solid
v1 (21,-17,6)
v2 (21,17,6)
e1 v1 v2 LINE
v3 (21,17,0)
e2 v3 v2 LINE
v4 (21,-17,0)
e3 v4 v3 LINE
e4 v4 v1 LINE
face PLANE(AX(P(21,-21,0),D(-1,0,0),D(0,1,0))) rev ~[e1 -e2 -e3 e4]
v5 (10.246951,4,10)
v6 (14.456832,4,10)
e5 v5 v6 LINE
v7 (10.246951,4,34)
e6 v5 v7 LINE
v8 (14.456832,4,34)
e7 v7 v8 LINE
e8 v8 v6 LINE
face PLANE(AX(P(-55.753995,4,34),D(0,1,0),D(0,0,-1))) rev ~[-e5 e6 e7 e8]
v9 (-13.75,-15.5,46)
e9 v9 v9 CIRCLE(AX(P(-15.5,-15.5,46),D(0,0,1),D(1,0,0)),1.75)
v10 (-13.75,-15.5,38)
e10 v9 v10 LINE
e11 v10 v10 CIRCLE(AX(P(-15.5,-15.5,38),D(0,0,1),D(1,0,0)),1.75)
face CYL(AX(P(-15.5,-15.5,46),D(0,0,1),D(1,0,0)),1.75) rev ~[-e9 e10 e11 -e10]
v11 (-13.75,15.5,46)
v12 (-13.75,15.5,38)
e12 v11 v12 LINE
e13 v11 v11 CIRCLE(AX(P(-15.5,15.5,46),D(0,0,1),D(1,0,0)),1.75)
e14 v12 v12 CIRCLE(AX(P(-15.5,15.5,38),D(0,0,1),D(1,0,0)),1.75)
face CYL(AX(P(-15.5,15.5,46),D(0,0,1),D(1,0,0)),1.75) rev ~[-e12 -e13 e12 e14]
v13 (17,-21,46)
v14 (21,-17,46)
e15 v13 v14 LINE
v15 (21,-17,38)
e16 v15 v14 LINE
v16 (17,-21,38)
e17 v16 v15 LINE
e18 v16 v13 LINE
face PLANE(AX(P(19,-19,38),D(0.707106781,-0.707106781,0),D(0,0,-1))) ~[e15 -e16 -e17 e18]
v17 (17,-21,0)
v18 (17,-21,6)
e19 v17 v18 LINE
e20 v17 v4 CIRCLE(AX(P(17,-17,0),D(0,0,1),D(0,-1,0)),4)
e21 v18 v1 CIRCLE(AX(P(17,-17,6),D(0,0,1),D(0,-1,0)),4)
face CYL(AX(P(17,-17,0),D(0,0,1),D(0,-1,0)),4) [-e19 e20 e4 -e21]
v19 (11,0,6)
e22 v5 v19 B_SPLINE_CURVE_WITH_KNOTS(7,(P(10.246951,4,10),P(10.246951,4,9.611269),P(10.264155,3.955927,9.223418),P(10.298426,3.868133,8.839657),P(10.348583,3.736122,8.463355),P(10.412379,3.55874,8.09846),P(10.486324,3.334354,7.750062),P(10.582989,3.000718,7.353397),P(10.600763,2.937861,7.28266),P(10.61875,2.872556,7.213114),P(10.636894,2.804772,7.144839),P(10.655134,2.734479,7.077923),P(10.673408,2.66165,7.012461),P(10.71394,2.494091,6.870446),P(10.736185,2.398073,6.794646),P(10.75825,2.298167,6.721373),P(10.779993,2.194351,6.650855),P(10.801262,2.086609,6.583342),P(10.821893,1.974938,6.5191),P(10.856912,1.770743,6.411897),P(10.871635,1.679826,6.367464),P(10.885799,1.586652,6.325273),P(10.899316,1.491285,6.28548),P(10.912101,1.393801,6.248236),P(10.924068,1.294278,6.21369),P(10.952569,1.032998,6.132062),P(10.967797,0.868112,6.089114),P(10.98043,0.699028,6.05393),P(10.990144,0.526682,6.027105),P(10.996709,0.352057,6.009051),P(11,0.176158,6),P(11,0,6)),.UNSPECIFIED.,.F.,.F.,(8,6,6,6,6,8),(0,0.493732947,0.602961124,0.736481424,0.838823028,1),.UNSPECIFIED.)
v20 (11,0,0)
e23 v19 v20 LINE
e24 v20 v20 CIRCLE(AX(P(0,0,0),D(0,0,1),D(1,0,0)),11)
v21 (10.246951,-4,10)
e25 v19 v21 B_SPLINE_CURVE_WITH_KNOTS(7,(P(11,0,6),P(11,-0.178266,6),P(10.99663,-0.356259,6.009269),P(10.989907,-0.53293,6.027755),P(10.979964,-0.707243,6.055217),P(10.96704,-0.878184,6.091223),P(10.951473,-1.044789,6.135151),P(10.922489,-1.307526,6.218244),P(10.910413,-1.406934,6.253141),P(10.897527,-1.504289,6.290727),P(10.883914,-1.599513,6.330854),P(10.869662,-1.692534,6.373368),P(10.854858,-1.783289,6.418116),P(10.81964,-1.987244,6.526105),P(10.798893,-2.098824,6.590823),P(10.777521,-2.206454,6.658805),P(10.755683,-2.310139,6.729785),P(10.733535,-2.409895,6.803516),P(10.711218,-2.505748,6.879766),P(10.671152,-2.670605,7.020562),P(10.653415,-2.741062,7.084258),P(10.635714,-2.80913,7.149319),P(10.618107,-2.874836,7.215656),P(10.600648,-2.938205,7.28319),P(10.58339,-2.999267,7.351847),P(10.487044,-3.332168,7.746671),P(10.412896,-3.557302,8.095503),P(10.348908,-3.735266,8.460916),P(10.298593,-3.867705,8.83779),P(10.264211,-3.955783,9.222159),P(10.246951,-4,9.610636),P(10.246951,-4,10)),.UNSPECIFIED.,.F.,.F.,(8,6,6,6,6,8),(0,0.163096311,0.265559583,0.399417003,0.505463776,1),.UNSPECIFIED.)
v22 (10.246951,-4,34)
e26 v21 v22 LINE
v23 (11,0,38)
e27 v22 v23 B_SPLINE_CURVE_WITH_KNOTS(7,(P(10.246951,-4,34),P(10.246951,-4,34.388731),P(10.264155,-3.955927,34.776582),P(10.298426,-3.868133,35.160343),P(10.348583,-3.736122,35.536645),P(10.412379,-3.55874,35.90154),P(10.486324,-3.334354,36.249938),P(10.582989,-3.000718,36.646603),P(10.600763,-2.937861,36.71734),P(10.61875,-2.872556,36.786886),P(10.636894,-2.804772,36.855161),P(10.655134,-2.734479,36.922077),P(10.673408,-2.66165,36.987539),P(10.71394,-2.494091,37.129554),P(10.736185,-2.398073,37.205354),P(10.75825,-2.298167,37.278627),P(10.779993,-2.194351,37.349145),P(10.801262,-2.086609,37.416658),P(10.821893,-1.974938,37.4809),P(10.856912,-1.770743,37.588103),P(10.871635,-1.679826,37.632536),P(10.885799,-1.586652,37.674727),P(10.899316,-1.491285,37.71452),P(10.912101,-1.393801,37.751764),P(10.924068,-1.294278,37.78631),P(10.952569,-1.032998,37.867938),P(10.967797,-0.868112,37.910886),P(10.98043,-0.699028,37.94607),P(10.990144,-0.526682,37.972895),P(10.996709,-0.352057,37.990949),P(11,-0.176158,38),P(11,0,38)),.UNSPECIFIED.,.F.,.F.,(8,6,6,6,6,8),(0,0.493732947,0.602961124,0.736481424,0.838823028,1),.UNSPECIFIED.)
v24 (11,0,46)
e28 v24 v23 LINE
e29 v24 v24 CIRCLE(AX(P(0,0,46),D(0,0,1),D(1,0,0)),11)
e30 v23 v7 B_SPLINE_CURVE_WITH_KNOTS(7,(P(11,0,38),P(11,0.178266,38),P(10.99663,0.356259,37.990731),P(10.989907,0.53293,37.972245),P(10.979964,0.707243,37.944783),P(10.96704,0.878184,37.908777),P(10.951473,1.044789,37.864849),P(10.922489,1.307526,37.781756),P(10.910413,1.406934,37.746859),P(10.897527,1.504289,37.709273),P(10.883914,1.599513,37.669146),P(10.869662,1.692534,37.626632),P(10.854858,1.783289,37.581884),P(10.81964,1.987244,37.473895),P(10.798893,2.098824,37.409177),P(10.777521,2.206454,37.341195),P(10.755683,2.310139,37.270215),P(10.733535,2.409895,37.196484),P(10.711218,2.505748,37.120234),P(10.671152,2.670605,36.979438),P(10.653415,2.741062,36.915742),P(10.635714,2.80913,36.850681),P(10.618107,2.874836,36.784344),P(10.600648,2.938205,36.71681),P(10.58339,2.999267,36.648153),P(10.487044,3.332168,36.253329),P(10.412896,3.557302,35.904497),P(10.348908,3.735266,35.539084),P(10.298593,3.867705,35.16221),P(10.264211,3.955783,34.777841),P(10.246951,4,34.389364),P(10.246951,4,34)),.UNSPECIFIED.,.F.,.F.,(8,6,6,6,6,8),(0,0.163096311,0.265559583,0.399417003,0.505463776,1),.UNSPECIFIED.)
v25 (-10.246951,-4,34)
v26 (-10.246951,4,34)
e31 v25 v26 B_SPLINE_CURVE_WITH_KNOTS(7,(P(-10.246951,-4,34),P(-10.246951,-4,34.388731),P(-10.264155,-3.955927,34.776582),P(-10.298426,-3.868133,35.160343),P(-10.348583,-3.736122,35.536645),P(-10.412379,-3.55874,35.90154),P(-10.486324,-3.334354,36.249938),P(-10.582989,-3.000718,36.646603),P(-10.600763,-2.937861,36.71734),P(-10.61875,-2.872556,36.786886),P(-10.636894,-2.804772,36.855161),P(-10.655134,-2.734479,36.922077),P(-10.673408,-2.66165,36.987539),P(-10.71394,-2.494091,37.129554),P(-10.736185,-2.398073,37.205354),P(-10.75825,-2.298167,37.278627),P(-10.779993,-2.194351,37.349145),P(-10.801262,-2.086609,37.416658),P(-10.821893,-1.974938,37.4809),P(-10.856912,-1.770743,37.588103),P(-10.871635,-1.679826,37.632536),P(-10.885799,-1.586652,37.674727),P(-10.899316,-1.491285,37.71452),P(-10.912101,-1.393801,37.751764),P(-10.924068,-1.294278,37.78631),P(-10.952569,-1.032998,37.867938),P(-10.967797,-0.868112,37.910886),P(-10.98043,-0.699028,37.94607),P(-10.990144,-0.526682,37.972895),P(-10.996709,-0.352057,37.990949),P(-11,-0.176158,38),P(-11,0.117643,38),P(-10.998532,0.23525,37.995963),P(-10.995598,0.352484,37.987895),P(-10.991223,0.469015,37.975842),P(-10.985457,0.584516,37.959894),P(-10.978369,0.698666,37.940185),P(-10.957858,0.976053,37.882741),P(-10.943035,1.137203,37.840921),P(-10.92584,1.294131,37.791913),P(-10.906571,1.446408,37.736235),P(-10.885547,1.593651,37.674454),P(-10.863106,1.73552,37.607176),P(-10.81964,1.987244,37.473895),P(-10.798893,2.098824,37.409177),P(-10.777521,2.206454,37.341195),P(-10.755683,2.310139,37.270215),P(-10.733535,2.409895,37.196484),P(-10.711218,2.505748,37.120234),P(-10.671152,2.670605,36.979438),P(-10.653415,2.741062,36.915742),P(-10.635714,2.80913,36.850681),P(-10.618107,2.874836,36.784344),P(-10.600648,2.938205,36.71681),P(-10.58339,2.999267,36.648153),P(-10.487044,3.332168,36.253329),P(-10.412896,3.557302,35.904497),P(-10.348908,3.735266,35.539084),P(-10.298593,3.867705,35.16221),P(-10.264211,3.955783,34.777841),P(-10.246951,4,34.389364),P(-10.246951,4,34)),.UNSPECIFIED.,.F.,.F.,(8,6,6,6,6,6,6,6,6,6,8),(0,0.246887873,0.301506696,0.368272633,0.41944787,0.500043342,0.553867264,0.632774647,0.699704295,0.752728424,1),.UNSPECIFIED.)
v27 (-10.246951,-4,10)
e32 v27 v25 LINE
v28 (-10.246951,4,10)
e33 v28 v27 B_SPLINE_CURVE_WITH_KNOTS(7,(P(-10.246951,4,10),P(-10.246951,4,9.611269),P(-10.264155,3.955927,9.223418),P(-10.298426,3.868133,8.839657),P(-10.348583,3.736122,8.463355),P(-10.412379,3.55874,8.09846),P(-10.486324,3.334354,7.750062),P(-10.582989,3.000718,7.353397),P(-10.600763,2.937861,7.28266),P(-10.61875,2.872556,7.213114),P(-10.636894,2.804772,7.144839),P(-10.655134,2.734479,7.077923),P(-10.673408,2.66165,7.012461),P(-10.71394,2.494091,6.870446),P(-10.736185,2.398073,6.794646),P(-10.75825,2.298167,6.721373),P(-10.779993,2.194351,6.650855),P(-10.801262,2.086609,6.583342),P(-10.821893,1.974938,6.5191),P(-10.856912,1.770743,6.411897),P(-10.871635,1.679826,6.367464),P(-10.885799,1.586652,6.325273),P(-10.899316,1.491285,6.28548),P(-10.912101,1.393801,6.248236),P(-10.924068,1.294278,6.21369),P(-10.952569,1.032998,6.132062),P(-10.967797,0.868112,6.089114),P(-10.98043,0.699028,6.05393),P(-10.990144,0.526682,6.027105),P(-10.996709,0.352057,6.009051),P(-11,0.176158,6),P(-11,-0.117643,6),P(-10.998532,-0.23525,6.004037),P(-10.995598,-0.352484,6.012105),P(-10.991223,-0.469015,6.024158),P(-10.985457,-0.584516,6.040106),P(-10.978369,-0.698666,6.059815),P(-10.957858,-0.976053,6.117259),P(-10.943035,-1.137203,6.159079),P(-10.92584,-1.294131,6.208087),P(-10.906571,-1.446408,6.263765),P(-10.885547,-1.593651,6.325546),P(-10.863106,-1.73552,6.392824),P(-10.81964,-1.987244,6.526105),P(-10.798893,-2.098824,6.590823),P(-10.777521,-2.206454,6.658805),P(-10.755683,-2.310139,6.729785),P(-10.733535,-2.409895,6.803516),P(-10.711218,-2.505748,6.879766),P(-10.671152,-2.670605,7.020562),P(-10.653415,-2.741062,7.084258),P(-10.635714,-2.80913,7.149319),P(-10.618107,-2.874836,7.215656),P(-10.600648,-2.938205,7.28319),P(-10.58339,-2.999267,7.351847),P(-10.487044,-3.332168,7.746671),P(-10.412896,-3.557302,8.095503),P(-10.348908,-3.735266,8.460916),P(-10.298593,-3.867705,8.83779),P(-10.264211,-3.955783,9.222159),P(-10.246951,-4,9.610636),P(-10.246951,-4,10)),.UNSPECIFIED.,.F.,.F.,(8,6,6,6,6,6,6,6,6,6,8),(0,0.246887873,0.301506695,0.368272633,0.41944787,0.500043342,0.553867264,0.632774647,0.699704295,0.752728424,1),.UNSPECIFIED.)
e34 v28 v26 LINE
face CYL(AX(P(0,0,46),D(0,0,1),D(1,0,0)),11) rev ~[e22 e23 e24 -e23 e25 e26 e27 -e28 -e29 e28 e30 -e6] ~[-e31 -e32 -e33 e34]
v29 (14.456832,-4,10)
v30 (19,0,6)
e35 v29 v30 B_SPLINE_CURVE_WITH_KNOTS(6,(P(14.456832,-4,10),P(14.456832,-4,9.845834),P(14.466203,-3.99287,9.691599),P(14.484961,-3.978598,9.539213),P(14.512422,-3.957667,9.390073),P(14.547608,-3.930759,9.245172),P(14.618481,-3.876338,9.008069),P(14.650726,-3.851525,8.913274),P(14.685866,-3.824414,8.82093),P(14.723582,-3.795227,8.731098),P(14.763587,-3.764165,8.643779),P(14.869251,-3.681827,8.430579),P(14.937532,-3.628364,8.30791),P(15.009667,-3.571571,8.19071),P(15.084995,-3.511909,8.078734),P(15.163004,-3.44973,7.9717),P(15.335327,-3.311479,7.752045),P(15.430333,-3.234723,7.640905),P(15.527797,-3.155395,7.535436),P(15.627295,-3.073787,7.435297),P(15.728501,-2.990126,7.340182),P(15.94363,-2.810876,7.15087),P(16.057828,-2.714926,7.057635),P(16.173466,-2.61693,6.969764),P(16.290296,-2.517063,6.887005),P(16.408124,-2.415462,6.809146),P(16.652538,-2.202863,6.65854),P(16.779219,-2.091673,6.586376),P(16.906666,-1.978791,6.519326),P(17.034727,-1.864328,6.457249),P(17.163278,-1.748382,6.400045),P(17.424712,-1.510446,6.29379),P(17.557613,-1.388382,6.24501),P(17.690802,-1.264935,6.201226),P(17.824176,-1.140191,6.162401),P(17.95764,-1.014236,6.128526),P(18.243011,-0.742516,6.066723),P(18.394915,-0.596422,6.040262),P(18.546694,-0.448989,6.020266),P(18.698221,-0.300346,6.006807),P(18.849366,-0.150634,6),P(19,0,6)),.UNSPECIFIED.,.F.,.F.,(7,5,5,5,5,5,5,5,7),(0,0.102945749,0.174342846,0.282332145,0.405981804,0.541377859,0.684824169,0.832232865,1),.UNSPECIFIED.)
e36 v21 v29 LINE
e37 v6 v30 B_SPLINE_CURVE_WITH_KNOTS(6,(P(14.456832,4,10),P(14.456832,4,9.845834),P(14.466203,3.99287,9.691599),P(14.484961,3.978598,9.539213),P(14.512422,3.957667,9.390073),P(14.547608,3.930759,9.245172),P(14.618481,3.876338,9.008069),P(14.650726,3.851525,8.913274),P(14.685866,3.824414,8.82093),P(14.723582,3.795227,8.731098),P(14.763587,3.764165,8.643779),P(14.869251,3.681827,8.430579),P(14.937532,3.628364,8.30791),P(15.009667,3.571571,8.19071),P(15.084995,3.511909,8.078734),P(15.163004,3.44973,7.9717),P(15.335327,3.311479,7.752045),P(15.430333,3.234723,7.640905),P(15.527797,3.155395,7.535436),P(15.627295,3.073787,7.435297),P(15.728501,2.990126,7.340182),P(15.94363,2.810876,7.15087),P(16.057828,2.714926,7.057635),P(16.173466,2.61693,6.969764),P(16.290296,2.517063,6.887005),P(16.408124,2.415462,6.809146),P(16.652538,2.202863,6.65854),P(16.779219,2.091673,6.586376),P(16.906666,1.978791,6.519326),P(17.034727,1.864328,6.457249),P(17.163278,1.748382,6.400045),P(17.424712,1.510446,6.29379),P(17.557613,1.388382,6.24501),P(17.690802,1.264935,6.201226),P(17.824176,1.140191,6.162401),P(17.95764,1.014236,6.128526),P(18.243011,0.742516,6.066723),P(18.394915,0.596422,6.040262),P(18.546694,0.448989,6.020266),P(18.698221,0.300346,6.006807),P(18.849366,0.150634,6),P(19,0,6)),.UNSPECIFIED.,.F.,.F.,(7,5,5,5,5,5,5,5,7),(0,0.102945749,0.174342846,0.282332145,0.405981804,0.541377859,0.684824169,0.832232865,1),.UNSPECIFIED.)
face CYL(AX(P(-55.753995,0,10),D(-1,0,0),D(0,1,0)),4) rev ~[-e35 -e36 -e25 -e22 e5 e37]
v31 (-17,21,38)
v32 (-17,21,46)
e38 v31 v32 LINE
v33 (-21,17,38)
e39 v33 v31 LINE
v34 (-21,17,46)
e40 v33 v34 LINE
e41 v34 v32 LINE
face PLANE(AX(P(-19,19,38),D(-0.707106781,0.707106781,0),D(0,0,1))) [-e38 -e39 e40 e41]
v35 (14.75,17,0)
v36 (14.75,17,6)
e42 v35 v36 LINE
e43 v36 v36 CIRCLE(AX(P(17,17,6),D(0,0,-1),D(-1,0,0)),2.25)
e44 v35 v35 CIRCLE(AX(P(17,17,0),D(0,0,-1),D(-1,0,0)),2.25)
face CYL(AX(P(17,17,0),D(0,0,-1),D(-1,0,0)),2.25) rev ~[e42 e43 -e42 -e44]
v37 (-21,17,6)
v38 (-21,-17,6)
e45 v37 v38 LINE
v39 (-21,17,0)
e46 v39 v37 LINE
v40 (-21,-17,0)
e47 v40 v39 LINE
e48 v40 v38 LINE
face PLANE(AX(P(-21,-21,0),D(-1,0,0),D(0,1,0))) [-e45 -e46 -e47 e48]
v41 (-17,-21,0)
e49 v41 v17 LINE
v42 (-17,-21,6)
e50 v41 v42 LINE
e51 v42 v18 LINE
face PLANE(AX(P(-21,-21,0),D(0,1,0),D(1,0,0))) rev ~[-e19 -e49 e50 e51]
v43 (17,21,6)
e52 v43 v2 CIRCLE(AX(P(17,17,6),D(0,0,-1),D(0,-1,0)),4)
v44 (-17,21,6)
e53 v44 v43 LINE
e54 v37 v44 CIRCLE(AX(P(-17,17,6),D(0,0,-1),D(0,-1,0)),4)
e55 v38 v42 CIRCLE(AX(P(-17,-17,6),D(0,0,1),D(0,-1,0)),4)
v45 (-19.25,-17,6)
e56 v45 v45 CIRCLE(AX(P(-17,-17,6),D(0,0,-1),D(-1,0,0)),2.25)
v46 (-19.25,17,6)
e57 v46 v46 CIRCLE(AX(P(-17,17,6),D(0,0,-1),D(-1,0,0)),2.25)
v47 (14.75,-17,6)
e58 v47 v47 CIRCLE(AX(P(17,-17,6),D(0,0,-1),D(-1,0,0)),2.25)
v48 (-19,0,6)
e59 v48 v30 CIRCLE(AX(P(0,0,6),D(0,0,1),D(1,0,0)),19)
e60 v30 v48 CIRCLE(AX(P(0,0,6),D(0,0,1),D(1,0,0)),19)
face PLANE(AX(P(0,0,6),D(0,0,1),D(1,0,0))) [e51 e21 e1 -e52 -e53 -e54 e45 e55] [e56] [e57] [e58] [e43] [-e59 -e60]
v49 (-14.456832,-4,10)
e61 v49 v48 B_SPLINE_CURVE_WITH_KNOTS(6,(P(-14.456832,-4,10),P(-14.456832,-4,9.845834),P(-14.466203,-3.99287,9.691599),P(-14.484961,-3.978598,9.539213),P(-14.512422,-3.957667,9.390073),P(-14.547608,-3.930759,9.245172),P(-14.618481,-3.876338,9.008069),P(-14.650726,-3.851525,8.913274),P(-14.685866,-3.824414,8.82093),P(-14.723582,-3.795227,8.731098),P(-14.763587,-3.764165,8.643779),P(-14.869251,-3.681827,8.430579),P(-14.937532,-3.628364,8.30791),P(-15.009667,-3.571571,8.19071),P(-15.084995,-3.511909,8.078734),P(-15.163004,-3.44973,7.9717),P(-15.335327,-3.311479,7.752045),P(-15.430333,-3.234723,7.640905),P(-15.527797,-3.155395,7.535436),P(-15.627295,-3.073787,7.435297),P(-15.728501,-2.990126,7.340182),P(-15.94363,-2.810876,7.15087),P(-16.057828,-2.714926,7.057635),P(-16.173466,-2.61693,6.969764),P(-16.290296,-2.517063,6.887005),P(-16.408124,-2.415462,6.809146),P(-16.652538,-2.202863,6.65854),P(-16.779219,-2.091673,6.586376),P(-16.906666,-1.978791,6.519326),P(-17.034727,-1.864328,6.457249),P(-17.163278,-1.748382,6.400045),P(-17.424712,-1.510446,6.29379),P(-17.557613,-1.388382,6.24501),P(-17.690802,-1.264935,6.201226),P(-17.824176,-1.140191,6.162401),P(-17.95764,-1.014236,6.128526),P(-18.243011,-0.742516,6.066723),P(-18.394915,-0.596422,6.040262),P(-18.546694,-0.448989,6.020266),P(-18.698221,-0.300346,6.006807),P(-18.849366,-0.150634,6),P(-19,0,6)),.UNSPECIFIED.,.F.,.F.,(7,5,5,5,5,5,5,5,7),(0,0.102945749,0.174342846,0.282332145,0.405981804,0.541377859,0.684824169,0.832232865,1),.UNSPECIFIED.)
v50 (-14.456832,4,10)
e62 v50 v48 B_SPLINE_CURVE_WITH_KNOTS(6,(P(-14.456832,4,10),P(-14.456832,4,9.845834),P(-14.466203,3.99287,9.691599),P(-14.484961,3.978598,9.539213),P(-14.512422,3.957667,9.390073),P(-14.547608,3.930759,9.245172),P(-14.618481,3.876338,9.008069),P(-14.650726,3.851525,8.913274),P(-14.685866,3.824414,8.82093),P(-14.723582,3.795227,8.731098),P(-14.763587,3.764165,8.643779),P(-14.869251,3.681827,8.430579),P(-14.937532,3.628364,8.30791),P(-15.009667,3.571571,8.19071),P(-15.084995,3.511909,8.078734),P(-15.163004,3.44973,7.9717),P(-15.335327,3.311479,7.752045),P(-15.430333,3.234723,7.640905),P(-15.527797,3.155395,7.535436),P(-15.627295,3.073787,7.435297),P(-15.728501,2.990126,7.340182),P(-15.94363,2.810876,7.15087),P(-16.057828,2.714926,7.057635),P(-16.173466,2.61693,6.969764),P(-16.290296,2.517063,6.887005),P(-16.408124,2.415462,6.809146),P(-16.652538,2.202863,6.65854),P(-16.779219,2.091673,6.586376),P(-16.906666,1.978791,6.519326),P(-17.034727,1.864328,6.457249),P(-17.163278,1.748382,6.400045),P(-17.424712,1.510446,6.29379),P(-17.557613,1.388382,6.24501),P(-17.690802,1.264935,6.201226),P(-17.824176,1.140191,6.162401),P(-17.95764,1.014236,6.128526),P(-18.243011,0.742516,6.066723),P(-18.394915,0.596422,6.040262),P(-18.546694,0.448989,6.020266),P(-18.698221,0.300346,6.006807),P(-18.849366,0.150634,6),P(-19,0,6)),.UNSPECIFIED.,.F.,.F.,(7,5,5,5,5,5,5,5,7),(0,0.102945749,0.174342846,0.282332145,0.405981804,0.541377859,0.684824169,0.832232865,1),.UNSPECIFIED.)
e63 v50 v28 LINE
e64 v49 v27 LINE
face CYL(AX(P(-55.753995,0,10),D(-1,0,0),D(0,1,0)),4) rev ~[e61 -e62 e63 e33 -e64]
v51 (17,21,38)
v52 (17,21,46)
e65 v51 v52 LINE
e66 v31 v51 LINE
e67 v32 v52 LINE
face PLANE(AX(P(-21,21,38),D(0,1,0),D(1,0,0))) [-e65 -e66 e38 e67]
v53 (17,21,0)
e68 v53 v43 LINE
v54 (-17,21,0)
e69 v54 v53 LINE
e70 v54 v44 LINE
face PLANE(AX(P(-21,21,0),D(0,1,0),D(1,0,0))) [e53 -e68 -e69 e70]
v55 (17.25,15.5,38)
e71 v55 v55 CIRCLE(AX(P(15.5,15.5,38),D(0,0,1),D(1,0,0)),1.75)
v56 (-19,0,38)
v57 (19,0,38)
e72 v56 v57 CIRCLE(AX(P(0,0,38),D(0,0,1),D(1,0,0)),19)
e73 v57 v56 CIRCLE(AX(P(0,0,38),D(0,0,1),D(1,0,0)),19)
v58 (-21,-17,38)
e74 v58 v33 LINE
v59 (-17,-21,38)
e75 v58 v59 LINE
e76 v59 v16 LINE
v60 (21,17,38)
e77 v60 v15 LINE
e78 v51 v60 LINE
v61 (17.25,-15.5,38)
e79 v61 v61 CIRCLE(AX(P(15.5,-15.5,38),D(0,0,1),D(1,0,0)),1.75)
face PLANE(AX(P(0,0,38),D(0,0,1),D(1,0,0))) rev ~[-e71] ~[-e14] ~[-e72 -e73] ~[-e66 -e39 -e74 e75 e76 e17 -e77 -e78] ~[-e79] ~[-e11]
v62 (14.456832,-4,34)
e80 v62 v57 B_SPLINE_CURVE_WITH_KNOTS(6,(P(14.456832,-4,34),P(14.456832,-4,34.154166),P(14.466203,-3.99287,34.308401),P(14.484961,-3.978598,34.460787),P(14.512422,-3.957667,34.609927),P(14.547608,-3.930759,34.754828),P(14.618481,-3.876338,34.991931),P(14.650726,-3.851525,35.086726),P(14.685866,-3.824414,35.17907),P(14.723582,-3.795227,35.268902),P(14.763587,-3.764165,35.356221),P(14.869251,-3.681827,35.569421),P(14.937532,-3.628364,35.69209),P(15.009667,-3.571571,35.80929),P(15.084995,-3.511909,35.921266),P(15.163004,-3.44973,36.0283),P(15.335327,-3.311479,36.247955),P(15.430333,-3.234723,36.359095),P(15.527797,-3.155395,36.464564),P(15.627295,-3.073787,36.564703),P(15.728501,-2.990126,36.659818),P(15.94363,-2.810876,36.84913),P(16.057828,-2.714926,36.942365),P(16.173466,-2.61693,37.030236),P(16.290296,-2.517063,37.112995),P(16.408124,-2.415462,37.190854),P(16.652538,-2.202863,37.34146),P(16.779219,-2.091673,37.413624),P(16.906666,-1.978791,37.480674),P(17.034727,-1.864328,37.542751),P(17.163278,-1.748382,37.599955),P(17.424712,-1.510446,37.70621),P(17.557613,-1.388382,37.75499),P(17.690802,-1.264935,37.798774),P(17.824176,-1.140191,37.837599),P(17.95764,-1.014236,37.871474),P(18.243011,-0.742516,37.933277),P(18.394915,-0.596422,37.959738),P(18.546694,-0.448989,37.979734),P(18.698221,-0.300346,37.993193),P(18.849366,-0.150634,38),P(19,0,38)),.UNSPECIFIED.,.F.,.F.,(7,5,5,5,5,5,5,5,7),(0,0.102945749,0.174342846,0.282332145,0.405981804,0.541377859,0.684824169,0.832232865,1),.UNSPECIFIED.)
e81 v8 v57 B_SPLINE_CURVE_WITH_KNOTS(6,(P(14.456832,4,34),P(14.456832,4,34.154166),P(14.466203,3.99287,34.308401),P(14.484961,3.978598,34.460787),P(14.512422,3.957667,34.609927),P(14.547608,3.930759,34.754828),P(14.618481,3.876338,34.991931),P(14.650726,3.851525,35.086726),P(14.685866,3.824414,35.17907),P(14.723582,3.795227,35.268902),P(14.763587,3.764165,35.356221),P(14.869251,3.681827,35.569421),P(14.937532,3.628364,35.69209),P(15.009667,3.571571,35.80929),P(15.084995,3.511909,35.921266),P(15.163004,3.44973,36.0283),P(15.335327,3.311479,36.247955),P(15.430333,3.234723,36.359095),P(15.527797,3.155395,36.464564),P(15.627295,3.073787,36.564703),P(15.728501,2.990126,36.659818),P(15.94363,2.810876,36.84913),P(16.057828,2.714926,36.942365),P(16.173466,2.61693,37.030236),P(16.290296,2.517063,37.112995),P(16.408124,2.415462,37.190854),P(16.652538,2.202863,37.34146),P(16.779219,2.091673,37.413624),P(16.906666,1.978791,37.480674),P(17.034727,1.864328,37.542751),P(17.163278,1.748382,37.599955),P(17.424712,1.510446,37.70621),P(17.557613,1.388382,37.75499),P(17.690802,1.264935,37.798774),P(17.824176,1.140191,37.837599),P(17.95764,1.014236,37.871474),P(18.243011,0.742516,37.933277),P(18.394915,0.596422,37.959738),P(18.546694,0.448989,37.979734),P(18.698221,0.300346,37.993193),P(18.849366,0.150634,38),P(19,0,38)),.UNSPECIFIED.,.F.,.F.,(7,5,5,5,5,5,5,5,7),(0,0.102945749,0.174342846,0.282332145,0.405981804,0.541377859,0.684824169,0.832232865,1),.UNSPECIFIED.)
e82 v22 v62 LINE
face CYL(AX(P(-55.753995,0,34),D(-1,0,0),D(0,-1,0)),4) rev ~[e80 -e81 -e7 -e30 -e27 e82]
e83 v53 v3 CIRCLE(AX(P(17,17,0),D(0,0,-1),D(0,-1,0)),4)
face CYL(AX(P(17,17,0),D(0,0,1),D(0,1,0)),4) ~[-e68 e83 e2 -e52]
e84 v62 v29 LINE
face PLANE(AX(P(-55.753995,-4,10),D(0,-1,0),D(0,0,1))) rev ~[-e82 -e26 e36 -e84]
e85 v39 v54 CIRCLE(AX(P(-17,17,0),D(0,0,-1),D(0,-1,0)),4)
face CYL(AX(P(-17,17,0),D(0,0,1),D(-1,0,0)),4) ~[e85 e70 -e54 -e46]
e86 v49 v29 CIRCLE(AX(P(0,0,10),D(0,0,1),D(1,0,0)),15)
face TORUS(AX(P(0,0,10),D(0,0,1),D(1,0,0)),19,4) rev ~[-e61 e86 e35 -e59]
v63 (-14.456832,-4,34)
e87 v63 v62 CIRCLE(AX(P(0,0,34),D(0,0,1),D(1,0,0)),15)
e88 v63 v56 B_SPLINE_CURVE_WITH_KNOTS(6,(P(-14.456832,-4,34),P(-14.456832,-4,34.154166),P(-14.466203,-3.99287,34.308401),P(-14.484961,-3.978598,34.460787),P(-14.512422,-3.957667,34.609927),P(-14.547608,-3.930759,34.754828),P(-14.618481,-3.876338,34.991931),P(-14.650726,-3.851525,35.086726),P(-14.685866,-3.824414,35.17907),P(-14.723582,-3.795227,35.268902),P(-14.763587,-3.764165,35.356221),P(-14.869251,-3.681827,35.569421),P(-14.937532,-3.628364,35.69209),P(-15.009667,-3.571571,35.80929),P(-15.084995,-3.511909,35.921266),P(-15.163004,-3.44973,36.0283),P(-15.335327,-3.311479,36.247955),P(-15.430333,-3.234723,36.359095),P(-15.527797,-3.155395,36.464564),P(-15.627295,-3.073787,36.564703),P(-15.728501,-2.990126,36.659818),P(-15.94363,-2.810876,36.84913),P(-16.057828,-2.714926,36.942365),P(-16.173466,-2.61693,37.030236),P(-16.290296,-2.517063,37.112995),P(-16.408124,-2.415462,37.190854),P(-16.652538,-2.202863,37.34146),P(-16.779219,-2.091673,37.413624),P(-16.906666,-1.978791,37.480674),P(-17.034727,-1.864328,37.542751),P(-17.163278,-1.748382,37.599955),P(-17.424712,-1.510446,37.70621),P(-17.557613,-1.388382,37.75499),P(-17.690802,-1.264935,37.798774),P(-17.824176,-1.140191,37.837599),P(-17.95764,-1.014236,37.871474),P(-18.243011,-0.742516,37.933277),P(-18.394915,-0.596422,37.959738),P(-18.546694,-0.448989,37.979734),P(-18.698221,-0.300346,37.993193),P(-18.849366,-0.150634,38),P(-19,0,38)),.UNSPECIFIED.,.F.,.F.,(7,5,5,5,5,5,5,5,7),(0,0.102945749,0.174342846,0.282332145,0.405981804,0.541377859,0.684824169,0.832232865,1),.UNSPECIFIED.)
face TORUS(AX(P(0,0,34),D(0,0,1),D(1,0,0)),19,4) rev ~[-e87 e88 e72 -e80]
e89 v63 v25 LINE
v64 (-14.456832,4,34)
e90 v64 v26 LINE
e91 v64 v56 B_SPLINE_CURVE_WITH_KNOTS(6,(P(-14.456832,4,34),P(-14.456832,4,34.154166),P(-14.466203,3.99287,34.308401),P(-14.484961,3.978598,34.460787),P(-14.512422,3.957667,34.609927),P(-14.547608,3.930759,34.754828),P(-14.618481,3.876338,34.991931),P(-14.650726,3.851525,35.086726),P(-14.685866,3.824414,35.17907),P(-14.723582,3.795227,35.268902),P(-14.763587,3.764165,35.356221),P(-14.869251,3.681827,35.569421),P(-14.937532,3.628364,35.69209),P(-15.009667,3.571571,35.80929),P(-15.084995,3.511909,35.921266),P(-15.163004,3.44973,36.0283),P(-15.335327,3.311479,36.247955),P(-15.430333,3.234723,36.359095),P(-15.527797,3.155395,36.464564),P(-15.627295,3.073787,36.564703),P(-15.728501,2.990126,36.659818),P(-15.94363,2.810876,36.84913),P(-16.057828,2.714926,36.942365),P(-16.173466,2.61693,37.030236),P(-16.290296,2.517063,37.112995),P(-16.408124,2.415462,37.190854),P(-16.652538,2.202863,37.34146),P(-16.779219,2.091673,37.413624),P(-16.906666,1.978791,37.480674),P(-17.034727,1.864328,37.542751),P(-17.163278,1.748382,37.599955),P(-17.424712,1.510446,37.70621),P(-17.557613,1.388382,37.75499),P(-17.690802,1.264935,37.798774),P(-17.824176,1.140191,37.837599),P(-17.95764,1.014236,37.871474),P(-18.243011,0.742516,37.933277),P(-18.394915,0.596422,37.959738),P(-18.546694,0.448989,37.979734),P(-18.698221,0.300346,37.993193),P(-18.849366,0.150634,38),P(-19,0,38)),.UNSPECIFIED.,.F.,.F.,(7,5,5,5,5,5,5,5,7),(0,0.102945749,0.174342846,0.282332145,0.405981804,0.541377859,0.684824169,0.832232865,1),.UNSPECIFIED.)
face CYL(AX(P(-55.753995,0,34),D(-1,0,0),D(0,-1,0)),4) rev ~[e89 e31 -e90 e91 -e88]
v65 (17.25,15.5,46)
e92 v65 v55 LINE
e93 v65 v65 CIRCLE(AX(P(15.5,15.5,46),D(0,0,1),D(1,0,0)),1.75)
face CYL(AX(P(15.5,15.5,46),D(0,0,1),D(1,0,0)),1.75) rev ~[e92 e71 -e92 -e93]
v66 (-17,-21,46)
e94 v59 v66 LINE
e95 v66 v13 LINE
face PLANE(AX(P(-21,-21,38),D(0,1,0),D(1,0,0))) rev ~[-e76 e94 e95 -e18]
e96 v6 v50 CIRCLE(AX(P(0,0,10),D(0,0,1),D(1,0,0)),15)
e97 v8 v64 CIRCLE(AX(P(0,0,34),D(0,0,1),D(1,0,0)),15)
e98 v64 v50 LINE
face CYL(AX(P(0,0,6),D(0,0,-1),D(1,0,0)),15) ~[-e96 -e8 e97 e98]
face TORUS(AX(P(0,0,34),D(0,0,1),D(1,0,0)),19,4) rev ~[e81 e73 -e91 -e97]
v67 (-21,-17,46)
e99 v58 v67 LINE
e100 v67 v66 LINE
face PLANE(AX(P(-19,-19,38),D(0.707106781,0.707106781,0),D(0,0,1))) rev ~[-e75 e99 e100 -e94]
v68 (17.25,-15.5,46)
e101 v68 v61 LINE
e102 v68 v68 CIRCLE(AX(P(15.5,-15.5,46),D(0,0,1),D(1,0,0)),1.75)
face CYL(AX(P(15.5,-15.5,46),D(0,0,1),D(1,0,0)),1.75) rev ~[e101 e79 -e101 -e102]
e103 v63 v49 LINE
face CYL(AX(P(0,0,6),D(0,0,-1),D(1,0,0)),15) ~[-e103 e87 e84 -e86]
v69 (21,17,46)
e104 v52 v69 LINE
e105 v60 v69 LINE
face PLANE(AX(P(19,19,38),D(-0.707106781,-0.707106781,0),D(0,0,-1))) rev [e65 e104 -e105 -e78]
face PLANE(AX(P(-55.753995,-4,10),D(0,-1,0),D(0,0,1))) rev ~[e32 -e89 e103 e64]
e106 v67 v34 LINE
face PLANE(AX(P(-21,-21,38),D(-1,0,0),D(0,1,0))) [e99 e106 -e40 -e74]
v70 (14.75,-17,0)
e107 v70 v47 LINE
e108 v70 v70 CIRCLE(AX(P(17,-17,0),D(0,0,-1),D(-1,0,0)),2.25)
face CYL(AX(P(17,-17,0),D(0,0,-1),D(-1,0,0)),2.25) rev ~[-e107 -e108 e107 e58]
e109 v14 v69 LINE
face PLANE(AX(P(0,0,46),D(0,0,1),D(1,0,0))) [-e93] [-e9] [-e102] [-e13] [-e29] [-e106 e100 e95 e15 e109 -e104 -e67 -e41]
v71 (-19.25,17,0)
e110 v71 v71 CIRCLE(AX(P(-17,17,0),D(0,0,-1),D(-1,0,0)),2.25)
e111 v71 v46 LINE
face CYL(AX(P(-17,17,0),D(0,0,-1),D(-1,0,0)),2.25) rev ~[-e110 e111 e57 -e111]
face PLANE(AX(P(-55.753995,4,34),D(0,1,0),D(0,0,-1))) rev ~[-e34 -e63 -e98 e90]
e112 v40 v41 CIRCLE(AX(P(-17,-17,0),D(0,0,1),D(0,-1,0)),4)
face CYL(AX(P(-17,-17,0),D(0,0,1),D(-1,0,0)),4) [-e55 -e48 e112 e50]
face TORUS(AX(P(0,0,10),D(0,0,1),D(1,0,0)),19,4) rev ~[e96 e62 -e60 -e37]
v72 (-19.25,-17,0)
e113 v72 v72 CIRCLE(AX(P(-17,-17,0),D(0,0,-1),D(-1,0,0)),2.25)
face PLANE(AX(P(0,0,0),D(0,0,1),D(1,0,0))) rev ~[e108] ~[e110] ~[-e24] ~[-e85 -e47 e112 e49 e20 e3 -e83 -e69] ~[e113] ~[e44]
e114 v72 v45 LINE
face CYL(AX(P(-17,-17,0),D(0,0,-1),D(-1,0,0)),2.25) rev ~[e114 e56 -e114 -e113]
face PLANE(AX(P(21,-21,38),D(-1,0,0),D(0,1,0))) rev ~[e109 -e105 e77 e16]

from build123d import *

# Parameters (mm, degrees)
CROQUIS1_W                 = 42
CROQUIS1_H                 = 42
SALIENTE_EXTRUIR1_DEPTH    = 6
CROQUIS2_R                 = 15
SALIENTE_EXTRUIR2_DEPTH    = 32
CROQUIS3_W                 = 42
CROQUIS3_H                 = 42
SALIENTE_EXTRUIR3_DEPTH    = 8
CROQUIS4_R                 = 11
CORTAR_EXTRUIR1_DEPTH      = 55.753995288
CROQUIS5_R                 = 1.75
CORTAR_EXTRUIR2_DEPTH      = 10
CHAFL_N1_SIZE              = 4
REDONDEO1_R                = 4
CROQUIS6_R                 = 2.25
CORTAR_EXTRUIR3_DEPTH      = 10
REDONDEO2_R                = 4
CORTAR_EXTRUIR4_DEPTH      = 55.753995288
CORTAR_EXTRUIR4_DEPTH_BACK = 55.753995288


with BuildPart() as part:
    # Croquis1 → Saliente-Extruir1 (new body)
    with BuildSketch(Plane.XY):
        Rectangle(CROQUIS1_W, CROQUIS1_H)
    extrude(amount=SALIENTE_EXTRUIR1_DEPTH)

    # Croquis2 → Saliente-Extruir2 (add)
    with BuildSketch(Plane.XY.offset(6)):
        Circle(CROQUIS2_R)
    extrude(amount=SALIENTE_EXTRUIR2_DEPTH)

    # Croquis3 → Saliente-Extruir3 (add)
    with BuildSketch(Plane.XY.offset(38)):
        Rectangle(CROQUIS3_W, CROQUIS3_H)
    extrude(amount=SALIENTE_EXTRUIR3_DEPTH)

    # Croquis4 → Cortar-Extruir1 (cut, through all)
    with BuildSketch(Plane.XY.offset(46)):
        Circle(CROQUIS4_R)
    extrude(amount=-CORTAR_EXTRUIR1_DEPTH, mode=Mode.SUBTRACT)

    # Croquis5 → Cortar-Extruir2 (cut)
    with BuildSketch(Plane.XY.offset(46)):
        with Locations((15.5, 15.5)):
            Circle(CROQUIS5_R)
        with Locations((-15.5, 15.5)):
            Circle(CROQUIS5_R)
        with Locations((-15.5, -15.5)):
            Circle(CROQUIS5_R)
        with Locations((15.5, -15.5)):
            Circle(CROQUIS5_R)
    extrude(amount=-CORTAR_EXTRUIR2_DEPTH, mode=Mode.SUBTRACT)

    # Chaflán1
    chafl_n1_edges = [part.edges().sort_by_distance(p)[0] for p in [
        (21, -21, 42),
        (21, 21, 42),
        (-21, 21, 42),
        (-21, -21, 42),
    ]]
    chamfer(chafl_n1_edges, length=CHAFL_N1_SIZE)

    # Redondeo1
    redondeo1_edges = [part.edges().sort_by_distance(p)[0] for p in [
        (-15, 0, 6),
        (-15, 0, 38),
    ]]
    fillet(redondeo1_edges, radius=REDONDEO1_R)

    # Croquis6 → Cortar-Extruir3 (cut)
    with BuildSketch(Plane(origin=(0, 0, 0), x_dir=(-1, 0, 0), z_dir=(0, 0, -1))):
        with Locations((17, 17)):
            Circle(CROQUIS6_R)
        with Locations((17, -17)):
            Circle(CROQUIS6_R)
        with Locations((-17, -17)):
            Circle(CROQUIS6_R)
        with Locations((-17, 17)):
            Circle(CROQUIS6_R)
    extrude(amount=-CORTAR_EXTRUIR3_DEPTH, mode=Mode.SUBTRACT)

    # Redondeo2
    redondeo2_edges = [part.edges().sort_by_distance(p)[0] for p in [
        (21, -21, 3),
        (-21, -21, 3),
        (-21, 21, 3),
        (21, 21, 3),
    ]]
    fillet(redondeo2_edges, radius=REDONDEO2_R)

    # Croquis7 → Cortar-Extruir4 (cut, two sides: drawn at the far end of the back side and taken through both)
    with BuildSketch(Plane(origin=(0, 0, 0), x_dir=(0, 0, -1), z_dir=(1, 0, 0)).offset(-CORTAR_EXTRUIR4_DEPTH_BACK)):
        with BuildLine():
            Line((-34, 4), (-10, 4))
            ThreePointArc((-10, 4), (-6, 0), (-10, -4))
            Line((-10, -4), (-34, -4))
            ThreePointArc((-34, -4), (-38, 0), (-34, 4))
        make_face()
    extrude(amount=CORTAR_EXTRUIR4_DEPTH + CORTAR_EXTRUIR4_DEPTH_BACK, mode=Mode.SUBTRACT)


solid = part.part
